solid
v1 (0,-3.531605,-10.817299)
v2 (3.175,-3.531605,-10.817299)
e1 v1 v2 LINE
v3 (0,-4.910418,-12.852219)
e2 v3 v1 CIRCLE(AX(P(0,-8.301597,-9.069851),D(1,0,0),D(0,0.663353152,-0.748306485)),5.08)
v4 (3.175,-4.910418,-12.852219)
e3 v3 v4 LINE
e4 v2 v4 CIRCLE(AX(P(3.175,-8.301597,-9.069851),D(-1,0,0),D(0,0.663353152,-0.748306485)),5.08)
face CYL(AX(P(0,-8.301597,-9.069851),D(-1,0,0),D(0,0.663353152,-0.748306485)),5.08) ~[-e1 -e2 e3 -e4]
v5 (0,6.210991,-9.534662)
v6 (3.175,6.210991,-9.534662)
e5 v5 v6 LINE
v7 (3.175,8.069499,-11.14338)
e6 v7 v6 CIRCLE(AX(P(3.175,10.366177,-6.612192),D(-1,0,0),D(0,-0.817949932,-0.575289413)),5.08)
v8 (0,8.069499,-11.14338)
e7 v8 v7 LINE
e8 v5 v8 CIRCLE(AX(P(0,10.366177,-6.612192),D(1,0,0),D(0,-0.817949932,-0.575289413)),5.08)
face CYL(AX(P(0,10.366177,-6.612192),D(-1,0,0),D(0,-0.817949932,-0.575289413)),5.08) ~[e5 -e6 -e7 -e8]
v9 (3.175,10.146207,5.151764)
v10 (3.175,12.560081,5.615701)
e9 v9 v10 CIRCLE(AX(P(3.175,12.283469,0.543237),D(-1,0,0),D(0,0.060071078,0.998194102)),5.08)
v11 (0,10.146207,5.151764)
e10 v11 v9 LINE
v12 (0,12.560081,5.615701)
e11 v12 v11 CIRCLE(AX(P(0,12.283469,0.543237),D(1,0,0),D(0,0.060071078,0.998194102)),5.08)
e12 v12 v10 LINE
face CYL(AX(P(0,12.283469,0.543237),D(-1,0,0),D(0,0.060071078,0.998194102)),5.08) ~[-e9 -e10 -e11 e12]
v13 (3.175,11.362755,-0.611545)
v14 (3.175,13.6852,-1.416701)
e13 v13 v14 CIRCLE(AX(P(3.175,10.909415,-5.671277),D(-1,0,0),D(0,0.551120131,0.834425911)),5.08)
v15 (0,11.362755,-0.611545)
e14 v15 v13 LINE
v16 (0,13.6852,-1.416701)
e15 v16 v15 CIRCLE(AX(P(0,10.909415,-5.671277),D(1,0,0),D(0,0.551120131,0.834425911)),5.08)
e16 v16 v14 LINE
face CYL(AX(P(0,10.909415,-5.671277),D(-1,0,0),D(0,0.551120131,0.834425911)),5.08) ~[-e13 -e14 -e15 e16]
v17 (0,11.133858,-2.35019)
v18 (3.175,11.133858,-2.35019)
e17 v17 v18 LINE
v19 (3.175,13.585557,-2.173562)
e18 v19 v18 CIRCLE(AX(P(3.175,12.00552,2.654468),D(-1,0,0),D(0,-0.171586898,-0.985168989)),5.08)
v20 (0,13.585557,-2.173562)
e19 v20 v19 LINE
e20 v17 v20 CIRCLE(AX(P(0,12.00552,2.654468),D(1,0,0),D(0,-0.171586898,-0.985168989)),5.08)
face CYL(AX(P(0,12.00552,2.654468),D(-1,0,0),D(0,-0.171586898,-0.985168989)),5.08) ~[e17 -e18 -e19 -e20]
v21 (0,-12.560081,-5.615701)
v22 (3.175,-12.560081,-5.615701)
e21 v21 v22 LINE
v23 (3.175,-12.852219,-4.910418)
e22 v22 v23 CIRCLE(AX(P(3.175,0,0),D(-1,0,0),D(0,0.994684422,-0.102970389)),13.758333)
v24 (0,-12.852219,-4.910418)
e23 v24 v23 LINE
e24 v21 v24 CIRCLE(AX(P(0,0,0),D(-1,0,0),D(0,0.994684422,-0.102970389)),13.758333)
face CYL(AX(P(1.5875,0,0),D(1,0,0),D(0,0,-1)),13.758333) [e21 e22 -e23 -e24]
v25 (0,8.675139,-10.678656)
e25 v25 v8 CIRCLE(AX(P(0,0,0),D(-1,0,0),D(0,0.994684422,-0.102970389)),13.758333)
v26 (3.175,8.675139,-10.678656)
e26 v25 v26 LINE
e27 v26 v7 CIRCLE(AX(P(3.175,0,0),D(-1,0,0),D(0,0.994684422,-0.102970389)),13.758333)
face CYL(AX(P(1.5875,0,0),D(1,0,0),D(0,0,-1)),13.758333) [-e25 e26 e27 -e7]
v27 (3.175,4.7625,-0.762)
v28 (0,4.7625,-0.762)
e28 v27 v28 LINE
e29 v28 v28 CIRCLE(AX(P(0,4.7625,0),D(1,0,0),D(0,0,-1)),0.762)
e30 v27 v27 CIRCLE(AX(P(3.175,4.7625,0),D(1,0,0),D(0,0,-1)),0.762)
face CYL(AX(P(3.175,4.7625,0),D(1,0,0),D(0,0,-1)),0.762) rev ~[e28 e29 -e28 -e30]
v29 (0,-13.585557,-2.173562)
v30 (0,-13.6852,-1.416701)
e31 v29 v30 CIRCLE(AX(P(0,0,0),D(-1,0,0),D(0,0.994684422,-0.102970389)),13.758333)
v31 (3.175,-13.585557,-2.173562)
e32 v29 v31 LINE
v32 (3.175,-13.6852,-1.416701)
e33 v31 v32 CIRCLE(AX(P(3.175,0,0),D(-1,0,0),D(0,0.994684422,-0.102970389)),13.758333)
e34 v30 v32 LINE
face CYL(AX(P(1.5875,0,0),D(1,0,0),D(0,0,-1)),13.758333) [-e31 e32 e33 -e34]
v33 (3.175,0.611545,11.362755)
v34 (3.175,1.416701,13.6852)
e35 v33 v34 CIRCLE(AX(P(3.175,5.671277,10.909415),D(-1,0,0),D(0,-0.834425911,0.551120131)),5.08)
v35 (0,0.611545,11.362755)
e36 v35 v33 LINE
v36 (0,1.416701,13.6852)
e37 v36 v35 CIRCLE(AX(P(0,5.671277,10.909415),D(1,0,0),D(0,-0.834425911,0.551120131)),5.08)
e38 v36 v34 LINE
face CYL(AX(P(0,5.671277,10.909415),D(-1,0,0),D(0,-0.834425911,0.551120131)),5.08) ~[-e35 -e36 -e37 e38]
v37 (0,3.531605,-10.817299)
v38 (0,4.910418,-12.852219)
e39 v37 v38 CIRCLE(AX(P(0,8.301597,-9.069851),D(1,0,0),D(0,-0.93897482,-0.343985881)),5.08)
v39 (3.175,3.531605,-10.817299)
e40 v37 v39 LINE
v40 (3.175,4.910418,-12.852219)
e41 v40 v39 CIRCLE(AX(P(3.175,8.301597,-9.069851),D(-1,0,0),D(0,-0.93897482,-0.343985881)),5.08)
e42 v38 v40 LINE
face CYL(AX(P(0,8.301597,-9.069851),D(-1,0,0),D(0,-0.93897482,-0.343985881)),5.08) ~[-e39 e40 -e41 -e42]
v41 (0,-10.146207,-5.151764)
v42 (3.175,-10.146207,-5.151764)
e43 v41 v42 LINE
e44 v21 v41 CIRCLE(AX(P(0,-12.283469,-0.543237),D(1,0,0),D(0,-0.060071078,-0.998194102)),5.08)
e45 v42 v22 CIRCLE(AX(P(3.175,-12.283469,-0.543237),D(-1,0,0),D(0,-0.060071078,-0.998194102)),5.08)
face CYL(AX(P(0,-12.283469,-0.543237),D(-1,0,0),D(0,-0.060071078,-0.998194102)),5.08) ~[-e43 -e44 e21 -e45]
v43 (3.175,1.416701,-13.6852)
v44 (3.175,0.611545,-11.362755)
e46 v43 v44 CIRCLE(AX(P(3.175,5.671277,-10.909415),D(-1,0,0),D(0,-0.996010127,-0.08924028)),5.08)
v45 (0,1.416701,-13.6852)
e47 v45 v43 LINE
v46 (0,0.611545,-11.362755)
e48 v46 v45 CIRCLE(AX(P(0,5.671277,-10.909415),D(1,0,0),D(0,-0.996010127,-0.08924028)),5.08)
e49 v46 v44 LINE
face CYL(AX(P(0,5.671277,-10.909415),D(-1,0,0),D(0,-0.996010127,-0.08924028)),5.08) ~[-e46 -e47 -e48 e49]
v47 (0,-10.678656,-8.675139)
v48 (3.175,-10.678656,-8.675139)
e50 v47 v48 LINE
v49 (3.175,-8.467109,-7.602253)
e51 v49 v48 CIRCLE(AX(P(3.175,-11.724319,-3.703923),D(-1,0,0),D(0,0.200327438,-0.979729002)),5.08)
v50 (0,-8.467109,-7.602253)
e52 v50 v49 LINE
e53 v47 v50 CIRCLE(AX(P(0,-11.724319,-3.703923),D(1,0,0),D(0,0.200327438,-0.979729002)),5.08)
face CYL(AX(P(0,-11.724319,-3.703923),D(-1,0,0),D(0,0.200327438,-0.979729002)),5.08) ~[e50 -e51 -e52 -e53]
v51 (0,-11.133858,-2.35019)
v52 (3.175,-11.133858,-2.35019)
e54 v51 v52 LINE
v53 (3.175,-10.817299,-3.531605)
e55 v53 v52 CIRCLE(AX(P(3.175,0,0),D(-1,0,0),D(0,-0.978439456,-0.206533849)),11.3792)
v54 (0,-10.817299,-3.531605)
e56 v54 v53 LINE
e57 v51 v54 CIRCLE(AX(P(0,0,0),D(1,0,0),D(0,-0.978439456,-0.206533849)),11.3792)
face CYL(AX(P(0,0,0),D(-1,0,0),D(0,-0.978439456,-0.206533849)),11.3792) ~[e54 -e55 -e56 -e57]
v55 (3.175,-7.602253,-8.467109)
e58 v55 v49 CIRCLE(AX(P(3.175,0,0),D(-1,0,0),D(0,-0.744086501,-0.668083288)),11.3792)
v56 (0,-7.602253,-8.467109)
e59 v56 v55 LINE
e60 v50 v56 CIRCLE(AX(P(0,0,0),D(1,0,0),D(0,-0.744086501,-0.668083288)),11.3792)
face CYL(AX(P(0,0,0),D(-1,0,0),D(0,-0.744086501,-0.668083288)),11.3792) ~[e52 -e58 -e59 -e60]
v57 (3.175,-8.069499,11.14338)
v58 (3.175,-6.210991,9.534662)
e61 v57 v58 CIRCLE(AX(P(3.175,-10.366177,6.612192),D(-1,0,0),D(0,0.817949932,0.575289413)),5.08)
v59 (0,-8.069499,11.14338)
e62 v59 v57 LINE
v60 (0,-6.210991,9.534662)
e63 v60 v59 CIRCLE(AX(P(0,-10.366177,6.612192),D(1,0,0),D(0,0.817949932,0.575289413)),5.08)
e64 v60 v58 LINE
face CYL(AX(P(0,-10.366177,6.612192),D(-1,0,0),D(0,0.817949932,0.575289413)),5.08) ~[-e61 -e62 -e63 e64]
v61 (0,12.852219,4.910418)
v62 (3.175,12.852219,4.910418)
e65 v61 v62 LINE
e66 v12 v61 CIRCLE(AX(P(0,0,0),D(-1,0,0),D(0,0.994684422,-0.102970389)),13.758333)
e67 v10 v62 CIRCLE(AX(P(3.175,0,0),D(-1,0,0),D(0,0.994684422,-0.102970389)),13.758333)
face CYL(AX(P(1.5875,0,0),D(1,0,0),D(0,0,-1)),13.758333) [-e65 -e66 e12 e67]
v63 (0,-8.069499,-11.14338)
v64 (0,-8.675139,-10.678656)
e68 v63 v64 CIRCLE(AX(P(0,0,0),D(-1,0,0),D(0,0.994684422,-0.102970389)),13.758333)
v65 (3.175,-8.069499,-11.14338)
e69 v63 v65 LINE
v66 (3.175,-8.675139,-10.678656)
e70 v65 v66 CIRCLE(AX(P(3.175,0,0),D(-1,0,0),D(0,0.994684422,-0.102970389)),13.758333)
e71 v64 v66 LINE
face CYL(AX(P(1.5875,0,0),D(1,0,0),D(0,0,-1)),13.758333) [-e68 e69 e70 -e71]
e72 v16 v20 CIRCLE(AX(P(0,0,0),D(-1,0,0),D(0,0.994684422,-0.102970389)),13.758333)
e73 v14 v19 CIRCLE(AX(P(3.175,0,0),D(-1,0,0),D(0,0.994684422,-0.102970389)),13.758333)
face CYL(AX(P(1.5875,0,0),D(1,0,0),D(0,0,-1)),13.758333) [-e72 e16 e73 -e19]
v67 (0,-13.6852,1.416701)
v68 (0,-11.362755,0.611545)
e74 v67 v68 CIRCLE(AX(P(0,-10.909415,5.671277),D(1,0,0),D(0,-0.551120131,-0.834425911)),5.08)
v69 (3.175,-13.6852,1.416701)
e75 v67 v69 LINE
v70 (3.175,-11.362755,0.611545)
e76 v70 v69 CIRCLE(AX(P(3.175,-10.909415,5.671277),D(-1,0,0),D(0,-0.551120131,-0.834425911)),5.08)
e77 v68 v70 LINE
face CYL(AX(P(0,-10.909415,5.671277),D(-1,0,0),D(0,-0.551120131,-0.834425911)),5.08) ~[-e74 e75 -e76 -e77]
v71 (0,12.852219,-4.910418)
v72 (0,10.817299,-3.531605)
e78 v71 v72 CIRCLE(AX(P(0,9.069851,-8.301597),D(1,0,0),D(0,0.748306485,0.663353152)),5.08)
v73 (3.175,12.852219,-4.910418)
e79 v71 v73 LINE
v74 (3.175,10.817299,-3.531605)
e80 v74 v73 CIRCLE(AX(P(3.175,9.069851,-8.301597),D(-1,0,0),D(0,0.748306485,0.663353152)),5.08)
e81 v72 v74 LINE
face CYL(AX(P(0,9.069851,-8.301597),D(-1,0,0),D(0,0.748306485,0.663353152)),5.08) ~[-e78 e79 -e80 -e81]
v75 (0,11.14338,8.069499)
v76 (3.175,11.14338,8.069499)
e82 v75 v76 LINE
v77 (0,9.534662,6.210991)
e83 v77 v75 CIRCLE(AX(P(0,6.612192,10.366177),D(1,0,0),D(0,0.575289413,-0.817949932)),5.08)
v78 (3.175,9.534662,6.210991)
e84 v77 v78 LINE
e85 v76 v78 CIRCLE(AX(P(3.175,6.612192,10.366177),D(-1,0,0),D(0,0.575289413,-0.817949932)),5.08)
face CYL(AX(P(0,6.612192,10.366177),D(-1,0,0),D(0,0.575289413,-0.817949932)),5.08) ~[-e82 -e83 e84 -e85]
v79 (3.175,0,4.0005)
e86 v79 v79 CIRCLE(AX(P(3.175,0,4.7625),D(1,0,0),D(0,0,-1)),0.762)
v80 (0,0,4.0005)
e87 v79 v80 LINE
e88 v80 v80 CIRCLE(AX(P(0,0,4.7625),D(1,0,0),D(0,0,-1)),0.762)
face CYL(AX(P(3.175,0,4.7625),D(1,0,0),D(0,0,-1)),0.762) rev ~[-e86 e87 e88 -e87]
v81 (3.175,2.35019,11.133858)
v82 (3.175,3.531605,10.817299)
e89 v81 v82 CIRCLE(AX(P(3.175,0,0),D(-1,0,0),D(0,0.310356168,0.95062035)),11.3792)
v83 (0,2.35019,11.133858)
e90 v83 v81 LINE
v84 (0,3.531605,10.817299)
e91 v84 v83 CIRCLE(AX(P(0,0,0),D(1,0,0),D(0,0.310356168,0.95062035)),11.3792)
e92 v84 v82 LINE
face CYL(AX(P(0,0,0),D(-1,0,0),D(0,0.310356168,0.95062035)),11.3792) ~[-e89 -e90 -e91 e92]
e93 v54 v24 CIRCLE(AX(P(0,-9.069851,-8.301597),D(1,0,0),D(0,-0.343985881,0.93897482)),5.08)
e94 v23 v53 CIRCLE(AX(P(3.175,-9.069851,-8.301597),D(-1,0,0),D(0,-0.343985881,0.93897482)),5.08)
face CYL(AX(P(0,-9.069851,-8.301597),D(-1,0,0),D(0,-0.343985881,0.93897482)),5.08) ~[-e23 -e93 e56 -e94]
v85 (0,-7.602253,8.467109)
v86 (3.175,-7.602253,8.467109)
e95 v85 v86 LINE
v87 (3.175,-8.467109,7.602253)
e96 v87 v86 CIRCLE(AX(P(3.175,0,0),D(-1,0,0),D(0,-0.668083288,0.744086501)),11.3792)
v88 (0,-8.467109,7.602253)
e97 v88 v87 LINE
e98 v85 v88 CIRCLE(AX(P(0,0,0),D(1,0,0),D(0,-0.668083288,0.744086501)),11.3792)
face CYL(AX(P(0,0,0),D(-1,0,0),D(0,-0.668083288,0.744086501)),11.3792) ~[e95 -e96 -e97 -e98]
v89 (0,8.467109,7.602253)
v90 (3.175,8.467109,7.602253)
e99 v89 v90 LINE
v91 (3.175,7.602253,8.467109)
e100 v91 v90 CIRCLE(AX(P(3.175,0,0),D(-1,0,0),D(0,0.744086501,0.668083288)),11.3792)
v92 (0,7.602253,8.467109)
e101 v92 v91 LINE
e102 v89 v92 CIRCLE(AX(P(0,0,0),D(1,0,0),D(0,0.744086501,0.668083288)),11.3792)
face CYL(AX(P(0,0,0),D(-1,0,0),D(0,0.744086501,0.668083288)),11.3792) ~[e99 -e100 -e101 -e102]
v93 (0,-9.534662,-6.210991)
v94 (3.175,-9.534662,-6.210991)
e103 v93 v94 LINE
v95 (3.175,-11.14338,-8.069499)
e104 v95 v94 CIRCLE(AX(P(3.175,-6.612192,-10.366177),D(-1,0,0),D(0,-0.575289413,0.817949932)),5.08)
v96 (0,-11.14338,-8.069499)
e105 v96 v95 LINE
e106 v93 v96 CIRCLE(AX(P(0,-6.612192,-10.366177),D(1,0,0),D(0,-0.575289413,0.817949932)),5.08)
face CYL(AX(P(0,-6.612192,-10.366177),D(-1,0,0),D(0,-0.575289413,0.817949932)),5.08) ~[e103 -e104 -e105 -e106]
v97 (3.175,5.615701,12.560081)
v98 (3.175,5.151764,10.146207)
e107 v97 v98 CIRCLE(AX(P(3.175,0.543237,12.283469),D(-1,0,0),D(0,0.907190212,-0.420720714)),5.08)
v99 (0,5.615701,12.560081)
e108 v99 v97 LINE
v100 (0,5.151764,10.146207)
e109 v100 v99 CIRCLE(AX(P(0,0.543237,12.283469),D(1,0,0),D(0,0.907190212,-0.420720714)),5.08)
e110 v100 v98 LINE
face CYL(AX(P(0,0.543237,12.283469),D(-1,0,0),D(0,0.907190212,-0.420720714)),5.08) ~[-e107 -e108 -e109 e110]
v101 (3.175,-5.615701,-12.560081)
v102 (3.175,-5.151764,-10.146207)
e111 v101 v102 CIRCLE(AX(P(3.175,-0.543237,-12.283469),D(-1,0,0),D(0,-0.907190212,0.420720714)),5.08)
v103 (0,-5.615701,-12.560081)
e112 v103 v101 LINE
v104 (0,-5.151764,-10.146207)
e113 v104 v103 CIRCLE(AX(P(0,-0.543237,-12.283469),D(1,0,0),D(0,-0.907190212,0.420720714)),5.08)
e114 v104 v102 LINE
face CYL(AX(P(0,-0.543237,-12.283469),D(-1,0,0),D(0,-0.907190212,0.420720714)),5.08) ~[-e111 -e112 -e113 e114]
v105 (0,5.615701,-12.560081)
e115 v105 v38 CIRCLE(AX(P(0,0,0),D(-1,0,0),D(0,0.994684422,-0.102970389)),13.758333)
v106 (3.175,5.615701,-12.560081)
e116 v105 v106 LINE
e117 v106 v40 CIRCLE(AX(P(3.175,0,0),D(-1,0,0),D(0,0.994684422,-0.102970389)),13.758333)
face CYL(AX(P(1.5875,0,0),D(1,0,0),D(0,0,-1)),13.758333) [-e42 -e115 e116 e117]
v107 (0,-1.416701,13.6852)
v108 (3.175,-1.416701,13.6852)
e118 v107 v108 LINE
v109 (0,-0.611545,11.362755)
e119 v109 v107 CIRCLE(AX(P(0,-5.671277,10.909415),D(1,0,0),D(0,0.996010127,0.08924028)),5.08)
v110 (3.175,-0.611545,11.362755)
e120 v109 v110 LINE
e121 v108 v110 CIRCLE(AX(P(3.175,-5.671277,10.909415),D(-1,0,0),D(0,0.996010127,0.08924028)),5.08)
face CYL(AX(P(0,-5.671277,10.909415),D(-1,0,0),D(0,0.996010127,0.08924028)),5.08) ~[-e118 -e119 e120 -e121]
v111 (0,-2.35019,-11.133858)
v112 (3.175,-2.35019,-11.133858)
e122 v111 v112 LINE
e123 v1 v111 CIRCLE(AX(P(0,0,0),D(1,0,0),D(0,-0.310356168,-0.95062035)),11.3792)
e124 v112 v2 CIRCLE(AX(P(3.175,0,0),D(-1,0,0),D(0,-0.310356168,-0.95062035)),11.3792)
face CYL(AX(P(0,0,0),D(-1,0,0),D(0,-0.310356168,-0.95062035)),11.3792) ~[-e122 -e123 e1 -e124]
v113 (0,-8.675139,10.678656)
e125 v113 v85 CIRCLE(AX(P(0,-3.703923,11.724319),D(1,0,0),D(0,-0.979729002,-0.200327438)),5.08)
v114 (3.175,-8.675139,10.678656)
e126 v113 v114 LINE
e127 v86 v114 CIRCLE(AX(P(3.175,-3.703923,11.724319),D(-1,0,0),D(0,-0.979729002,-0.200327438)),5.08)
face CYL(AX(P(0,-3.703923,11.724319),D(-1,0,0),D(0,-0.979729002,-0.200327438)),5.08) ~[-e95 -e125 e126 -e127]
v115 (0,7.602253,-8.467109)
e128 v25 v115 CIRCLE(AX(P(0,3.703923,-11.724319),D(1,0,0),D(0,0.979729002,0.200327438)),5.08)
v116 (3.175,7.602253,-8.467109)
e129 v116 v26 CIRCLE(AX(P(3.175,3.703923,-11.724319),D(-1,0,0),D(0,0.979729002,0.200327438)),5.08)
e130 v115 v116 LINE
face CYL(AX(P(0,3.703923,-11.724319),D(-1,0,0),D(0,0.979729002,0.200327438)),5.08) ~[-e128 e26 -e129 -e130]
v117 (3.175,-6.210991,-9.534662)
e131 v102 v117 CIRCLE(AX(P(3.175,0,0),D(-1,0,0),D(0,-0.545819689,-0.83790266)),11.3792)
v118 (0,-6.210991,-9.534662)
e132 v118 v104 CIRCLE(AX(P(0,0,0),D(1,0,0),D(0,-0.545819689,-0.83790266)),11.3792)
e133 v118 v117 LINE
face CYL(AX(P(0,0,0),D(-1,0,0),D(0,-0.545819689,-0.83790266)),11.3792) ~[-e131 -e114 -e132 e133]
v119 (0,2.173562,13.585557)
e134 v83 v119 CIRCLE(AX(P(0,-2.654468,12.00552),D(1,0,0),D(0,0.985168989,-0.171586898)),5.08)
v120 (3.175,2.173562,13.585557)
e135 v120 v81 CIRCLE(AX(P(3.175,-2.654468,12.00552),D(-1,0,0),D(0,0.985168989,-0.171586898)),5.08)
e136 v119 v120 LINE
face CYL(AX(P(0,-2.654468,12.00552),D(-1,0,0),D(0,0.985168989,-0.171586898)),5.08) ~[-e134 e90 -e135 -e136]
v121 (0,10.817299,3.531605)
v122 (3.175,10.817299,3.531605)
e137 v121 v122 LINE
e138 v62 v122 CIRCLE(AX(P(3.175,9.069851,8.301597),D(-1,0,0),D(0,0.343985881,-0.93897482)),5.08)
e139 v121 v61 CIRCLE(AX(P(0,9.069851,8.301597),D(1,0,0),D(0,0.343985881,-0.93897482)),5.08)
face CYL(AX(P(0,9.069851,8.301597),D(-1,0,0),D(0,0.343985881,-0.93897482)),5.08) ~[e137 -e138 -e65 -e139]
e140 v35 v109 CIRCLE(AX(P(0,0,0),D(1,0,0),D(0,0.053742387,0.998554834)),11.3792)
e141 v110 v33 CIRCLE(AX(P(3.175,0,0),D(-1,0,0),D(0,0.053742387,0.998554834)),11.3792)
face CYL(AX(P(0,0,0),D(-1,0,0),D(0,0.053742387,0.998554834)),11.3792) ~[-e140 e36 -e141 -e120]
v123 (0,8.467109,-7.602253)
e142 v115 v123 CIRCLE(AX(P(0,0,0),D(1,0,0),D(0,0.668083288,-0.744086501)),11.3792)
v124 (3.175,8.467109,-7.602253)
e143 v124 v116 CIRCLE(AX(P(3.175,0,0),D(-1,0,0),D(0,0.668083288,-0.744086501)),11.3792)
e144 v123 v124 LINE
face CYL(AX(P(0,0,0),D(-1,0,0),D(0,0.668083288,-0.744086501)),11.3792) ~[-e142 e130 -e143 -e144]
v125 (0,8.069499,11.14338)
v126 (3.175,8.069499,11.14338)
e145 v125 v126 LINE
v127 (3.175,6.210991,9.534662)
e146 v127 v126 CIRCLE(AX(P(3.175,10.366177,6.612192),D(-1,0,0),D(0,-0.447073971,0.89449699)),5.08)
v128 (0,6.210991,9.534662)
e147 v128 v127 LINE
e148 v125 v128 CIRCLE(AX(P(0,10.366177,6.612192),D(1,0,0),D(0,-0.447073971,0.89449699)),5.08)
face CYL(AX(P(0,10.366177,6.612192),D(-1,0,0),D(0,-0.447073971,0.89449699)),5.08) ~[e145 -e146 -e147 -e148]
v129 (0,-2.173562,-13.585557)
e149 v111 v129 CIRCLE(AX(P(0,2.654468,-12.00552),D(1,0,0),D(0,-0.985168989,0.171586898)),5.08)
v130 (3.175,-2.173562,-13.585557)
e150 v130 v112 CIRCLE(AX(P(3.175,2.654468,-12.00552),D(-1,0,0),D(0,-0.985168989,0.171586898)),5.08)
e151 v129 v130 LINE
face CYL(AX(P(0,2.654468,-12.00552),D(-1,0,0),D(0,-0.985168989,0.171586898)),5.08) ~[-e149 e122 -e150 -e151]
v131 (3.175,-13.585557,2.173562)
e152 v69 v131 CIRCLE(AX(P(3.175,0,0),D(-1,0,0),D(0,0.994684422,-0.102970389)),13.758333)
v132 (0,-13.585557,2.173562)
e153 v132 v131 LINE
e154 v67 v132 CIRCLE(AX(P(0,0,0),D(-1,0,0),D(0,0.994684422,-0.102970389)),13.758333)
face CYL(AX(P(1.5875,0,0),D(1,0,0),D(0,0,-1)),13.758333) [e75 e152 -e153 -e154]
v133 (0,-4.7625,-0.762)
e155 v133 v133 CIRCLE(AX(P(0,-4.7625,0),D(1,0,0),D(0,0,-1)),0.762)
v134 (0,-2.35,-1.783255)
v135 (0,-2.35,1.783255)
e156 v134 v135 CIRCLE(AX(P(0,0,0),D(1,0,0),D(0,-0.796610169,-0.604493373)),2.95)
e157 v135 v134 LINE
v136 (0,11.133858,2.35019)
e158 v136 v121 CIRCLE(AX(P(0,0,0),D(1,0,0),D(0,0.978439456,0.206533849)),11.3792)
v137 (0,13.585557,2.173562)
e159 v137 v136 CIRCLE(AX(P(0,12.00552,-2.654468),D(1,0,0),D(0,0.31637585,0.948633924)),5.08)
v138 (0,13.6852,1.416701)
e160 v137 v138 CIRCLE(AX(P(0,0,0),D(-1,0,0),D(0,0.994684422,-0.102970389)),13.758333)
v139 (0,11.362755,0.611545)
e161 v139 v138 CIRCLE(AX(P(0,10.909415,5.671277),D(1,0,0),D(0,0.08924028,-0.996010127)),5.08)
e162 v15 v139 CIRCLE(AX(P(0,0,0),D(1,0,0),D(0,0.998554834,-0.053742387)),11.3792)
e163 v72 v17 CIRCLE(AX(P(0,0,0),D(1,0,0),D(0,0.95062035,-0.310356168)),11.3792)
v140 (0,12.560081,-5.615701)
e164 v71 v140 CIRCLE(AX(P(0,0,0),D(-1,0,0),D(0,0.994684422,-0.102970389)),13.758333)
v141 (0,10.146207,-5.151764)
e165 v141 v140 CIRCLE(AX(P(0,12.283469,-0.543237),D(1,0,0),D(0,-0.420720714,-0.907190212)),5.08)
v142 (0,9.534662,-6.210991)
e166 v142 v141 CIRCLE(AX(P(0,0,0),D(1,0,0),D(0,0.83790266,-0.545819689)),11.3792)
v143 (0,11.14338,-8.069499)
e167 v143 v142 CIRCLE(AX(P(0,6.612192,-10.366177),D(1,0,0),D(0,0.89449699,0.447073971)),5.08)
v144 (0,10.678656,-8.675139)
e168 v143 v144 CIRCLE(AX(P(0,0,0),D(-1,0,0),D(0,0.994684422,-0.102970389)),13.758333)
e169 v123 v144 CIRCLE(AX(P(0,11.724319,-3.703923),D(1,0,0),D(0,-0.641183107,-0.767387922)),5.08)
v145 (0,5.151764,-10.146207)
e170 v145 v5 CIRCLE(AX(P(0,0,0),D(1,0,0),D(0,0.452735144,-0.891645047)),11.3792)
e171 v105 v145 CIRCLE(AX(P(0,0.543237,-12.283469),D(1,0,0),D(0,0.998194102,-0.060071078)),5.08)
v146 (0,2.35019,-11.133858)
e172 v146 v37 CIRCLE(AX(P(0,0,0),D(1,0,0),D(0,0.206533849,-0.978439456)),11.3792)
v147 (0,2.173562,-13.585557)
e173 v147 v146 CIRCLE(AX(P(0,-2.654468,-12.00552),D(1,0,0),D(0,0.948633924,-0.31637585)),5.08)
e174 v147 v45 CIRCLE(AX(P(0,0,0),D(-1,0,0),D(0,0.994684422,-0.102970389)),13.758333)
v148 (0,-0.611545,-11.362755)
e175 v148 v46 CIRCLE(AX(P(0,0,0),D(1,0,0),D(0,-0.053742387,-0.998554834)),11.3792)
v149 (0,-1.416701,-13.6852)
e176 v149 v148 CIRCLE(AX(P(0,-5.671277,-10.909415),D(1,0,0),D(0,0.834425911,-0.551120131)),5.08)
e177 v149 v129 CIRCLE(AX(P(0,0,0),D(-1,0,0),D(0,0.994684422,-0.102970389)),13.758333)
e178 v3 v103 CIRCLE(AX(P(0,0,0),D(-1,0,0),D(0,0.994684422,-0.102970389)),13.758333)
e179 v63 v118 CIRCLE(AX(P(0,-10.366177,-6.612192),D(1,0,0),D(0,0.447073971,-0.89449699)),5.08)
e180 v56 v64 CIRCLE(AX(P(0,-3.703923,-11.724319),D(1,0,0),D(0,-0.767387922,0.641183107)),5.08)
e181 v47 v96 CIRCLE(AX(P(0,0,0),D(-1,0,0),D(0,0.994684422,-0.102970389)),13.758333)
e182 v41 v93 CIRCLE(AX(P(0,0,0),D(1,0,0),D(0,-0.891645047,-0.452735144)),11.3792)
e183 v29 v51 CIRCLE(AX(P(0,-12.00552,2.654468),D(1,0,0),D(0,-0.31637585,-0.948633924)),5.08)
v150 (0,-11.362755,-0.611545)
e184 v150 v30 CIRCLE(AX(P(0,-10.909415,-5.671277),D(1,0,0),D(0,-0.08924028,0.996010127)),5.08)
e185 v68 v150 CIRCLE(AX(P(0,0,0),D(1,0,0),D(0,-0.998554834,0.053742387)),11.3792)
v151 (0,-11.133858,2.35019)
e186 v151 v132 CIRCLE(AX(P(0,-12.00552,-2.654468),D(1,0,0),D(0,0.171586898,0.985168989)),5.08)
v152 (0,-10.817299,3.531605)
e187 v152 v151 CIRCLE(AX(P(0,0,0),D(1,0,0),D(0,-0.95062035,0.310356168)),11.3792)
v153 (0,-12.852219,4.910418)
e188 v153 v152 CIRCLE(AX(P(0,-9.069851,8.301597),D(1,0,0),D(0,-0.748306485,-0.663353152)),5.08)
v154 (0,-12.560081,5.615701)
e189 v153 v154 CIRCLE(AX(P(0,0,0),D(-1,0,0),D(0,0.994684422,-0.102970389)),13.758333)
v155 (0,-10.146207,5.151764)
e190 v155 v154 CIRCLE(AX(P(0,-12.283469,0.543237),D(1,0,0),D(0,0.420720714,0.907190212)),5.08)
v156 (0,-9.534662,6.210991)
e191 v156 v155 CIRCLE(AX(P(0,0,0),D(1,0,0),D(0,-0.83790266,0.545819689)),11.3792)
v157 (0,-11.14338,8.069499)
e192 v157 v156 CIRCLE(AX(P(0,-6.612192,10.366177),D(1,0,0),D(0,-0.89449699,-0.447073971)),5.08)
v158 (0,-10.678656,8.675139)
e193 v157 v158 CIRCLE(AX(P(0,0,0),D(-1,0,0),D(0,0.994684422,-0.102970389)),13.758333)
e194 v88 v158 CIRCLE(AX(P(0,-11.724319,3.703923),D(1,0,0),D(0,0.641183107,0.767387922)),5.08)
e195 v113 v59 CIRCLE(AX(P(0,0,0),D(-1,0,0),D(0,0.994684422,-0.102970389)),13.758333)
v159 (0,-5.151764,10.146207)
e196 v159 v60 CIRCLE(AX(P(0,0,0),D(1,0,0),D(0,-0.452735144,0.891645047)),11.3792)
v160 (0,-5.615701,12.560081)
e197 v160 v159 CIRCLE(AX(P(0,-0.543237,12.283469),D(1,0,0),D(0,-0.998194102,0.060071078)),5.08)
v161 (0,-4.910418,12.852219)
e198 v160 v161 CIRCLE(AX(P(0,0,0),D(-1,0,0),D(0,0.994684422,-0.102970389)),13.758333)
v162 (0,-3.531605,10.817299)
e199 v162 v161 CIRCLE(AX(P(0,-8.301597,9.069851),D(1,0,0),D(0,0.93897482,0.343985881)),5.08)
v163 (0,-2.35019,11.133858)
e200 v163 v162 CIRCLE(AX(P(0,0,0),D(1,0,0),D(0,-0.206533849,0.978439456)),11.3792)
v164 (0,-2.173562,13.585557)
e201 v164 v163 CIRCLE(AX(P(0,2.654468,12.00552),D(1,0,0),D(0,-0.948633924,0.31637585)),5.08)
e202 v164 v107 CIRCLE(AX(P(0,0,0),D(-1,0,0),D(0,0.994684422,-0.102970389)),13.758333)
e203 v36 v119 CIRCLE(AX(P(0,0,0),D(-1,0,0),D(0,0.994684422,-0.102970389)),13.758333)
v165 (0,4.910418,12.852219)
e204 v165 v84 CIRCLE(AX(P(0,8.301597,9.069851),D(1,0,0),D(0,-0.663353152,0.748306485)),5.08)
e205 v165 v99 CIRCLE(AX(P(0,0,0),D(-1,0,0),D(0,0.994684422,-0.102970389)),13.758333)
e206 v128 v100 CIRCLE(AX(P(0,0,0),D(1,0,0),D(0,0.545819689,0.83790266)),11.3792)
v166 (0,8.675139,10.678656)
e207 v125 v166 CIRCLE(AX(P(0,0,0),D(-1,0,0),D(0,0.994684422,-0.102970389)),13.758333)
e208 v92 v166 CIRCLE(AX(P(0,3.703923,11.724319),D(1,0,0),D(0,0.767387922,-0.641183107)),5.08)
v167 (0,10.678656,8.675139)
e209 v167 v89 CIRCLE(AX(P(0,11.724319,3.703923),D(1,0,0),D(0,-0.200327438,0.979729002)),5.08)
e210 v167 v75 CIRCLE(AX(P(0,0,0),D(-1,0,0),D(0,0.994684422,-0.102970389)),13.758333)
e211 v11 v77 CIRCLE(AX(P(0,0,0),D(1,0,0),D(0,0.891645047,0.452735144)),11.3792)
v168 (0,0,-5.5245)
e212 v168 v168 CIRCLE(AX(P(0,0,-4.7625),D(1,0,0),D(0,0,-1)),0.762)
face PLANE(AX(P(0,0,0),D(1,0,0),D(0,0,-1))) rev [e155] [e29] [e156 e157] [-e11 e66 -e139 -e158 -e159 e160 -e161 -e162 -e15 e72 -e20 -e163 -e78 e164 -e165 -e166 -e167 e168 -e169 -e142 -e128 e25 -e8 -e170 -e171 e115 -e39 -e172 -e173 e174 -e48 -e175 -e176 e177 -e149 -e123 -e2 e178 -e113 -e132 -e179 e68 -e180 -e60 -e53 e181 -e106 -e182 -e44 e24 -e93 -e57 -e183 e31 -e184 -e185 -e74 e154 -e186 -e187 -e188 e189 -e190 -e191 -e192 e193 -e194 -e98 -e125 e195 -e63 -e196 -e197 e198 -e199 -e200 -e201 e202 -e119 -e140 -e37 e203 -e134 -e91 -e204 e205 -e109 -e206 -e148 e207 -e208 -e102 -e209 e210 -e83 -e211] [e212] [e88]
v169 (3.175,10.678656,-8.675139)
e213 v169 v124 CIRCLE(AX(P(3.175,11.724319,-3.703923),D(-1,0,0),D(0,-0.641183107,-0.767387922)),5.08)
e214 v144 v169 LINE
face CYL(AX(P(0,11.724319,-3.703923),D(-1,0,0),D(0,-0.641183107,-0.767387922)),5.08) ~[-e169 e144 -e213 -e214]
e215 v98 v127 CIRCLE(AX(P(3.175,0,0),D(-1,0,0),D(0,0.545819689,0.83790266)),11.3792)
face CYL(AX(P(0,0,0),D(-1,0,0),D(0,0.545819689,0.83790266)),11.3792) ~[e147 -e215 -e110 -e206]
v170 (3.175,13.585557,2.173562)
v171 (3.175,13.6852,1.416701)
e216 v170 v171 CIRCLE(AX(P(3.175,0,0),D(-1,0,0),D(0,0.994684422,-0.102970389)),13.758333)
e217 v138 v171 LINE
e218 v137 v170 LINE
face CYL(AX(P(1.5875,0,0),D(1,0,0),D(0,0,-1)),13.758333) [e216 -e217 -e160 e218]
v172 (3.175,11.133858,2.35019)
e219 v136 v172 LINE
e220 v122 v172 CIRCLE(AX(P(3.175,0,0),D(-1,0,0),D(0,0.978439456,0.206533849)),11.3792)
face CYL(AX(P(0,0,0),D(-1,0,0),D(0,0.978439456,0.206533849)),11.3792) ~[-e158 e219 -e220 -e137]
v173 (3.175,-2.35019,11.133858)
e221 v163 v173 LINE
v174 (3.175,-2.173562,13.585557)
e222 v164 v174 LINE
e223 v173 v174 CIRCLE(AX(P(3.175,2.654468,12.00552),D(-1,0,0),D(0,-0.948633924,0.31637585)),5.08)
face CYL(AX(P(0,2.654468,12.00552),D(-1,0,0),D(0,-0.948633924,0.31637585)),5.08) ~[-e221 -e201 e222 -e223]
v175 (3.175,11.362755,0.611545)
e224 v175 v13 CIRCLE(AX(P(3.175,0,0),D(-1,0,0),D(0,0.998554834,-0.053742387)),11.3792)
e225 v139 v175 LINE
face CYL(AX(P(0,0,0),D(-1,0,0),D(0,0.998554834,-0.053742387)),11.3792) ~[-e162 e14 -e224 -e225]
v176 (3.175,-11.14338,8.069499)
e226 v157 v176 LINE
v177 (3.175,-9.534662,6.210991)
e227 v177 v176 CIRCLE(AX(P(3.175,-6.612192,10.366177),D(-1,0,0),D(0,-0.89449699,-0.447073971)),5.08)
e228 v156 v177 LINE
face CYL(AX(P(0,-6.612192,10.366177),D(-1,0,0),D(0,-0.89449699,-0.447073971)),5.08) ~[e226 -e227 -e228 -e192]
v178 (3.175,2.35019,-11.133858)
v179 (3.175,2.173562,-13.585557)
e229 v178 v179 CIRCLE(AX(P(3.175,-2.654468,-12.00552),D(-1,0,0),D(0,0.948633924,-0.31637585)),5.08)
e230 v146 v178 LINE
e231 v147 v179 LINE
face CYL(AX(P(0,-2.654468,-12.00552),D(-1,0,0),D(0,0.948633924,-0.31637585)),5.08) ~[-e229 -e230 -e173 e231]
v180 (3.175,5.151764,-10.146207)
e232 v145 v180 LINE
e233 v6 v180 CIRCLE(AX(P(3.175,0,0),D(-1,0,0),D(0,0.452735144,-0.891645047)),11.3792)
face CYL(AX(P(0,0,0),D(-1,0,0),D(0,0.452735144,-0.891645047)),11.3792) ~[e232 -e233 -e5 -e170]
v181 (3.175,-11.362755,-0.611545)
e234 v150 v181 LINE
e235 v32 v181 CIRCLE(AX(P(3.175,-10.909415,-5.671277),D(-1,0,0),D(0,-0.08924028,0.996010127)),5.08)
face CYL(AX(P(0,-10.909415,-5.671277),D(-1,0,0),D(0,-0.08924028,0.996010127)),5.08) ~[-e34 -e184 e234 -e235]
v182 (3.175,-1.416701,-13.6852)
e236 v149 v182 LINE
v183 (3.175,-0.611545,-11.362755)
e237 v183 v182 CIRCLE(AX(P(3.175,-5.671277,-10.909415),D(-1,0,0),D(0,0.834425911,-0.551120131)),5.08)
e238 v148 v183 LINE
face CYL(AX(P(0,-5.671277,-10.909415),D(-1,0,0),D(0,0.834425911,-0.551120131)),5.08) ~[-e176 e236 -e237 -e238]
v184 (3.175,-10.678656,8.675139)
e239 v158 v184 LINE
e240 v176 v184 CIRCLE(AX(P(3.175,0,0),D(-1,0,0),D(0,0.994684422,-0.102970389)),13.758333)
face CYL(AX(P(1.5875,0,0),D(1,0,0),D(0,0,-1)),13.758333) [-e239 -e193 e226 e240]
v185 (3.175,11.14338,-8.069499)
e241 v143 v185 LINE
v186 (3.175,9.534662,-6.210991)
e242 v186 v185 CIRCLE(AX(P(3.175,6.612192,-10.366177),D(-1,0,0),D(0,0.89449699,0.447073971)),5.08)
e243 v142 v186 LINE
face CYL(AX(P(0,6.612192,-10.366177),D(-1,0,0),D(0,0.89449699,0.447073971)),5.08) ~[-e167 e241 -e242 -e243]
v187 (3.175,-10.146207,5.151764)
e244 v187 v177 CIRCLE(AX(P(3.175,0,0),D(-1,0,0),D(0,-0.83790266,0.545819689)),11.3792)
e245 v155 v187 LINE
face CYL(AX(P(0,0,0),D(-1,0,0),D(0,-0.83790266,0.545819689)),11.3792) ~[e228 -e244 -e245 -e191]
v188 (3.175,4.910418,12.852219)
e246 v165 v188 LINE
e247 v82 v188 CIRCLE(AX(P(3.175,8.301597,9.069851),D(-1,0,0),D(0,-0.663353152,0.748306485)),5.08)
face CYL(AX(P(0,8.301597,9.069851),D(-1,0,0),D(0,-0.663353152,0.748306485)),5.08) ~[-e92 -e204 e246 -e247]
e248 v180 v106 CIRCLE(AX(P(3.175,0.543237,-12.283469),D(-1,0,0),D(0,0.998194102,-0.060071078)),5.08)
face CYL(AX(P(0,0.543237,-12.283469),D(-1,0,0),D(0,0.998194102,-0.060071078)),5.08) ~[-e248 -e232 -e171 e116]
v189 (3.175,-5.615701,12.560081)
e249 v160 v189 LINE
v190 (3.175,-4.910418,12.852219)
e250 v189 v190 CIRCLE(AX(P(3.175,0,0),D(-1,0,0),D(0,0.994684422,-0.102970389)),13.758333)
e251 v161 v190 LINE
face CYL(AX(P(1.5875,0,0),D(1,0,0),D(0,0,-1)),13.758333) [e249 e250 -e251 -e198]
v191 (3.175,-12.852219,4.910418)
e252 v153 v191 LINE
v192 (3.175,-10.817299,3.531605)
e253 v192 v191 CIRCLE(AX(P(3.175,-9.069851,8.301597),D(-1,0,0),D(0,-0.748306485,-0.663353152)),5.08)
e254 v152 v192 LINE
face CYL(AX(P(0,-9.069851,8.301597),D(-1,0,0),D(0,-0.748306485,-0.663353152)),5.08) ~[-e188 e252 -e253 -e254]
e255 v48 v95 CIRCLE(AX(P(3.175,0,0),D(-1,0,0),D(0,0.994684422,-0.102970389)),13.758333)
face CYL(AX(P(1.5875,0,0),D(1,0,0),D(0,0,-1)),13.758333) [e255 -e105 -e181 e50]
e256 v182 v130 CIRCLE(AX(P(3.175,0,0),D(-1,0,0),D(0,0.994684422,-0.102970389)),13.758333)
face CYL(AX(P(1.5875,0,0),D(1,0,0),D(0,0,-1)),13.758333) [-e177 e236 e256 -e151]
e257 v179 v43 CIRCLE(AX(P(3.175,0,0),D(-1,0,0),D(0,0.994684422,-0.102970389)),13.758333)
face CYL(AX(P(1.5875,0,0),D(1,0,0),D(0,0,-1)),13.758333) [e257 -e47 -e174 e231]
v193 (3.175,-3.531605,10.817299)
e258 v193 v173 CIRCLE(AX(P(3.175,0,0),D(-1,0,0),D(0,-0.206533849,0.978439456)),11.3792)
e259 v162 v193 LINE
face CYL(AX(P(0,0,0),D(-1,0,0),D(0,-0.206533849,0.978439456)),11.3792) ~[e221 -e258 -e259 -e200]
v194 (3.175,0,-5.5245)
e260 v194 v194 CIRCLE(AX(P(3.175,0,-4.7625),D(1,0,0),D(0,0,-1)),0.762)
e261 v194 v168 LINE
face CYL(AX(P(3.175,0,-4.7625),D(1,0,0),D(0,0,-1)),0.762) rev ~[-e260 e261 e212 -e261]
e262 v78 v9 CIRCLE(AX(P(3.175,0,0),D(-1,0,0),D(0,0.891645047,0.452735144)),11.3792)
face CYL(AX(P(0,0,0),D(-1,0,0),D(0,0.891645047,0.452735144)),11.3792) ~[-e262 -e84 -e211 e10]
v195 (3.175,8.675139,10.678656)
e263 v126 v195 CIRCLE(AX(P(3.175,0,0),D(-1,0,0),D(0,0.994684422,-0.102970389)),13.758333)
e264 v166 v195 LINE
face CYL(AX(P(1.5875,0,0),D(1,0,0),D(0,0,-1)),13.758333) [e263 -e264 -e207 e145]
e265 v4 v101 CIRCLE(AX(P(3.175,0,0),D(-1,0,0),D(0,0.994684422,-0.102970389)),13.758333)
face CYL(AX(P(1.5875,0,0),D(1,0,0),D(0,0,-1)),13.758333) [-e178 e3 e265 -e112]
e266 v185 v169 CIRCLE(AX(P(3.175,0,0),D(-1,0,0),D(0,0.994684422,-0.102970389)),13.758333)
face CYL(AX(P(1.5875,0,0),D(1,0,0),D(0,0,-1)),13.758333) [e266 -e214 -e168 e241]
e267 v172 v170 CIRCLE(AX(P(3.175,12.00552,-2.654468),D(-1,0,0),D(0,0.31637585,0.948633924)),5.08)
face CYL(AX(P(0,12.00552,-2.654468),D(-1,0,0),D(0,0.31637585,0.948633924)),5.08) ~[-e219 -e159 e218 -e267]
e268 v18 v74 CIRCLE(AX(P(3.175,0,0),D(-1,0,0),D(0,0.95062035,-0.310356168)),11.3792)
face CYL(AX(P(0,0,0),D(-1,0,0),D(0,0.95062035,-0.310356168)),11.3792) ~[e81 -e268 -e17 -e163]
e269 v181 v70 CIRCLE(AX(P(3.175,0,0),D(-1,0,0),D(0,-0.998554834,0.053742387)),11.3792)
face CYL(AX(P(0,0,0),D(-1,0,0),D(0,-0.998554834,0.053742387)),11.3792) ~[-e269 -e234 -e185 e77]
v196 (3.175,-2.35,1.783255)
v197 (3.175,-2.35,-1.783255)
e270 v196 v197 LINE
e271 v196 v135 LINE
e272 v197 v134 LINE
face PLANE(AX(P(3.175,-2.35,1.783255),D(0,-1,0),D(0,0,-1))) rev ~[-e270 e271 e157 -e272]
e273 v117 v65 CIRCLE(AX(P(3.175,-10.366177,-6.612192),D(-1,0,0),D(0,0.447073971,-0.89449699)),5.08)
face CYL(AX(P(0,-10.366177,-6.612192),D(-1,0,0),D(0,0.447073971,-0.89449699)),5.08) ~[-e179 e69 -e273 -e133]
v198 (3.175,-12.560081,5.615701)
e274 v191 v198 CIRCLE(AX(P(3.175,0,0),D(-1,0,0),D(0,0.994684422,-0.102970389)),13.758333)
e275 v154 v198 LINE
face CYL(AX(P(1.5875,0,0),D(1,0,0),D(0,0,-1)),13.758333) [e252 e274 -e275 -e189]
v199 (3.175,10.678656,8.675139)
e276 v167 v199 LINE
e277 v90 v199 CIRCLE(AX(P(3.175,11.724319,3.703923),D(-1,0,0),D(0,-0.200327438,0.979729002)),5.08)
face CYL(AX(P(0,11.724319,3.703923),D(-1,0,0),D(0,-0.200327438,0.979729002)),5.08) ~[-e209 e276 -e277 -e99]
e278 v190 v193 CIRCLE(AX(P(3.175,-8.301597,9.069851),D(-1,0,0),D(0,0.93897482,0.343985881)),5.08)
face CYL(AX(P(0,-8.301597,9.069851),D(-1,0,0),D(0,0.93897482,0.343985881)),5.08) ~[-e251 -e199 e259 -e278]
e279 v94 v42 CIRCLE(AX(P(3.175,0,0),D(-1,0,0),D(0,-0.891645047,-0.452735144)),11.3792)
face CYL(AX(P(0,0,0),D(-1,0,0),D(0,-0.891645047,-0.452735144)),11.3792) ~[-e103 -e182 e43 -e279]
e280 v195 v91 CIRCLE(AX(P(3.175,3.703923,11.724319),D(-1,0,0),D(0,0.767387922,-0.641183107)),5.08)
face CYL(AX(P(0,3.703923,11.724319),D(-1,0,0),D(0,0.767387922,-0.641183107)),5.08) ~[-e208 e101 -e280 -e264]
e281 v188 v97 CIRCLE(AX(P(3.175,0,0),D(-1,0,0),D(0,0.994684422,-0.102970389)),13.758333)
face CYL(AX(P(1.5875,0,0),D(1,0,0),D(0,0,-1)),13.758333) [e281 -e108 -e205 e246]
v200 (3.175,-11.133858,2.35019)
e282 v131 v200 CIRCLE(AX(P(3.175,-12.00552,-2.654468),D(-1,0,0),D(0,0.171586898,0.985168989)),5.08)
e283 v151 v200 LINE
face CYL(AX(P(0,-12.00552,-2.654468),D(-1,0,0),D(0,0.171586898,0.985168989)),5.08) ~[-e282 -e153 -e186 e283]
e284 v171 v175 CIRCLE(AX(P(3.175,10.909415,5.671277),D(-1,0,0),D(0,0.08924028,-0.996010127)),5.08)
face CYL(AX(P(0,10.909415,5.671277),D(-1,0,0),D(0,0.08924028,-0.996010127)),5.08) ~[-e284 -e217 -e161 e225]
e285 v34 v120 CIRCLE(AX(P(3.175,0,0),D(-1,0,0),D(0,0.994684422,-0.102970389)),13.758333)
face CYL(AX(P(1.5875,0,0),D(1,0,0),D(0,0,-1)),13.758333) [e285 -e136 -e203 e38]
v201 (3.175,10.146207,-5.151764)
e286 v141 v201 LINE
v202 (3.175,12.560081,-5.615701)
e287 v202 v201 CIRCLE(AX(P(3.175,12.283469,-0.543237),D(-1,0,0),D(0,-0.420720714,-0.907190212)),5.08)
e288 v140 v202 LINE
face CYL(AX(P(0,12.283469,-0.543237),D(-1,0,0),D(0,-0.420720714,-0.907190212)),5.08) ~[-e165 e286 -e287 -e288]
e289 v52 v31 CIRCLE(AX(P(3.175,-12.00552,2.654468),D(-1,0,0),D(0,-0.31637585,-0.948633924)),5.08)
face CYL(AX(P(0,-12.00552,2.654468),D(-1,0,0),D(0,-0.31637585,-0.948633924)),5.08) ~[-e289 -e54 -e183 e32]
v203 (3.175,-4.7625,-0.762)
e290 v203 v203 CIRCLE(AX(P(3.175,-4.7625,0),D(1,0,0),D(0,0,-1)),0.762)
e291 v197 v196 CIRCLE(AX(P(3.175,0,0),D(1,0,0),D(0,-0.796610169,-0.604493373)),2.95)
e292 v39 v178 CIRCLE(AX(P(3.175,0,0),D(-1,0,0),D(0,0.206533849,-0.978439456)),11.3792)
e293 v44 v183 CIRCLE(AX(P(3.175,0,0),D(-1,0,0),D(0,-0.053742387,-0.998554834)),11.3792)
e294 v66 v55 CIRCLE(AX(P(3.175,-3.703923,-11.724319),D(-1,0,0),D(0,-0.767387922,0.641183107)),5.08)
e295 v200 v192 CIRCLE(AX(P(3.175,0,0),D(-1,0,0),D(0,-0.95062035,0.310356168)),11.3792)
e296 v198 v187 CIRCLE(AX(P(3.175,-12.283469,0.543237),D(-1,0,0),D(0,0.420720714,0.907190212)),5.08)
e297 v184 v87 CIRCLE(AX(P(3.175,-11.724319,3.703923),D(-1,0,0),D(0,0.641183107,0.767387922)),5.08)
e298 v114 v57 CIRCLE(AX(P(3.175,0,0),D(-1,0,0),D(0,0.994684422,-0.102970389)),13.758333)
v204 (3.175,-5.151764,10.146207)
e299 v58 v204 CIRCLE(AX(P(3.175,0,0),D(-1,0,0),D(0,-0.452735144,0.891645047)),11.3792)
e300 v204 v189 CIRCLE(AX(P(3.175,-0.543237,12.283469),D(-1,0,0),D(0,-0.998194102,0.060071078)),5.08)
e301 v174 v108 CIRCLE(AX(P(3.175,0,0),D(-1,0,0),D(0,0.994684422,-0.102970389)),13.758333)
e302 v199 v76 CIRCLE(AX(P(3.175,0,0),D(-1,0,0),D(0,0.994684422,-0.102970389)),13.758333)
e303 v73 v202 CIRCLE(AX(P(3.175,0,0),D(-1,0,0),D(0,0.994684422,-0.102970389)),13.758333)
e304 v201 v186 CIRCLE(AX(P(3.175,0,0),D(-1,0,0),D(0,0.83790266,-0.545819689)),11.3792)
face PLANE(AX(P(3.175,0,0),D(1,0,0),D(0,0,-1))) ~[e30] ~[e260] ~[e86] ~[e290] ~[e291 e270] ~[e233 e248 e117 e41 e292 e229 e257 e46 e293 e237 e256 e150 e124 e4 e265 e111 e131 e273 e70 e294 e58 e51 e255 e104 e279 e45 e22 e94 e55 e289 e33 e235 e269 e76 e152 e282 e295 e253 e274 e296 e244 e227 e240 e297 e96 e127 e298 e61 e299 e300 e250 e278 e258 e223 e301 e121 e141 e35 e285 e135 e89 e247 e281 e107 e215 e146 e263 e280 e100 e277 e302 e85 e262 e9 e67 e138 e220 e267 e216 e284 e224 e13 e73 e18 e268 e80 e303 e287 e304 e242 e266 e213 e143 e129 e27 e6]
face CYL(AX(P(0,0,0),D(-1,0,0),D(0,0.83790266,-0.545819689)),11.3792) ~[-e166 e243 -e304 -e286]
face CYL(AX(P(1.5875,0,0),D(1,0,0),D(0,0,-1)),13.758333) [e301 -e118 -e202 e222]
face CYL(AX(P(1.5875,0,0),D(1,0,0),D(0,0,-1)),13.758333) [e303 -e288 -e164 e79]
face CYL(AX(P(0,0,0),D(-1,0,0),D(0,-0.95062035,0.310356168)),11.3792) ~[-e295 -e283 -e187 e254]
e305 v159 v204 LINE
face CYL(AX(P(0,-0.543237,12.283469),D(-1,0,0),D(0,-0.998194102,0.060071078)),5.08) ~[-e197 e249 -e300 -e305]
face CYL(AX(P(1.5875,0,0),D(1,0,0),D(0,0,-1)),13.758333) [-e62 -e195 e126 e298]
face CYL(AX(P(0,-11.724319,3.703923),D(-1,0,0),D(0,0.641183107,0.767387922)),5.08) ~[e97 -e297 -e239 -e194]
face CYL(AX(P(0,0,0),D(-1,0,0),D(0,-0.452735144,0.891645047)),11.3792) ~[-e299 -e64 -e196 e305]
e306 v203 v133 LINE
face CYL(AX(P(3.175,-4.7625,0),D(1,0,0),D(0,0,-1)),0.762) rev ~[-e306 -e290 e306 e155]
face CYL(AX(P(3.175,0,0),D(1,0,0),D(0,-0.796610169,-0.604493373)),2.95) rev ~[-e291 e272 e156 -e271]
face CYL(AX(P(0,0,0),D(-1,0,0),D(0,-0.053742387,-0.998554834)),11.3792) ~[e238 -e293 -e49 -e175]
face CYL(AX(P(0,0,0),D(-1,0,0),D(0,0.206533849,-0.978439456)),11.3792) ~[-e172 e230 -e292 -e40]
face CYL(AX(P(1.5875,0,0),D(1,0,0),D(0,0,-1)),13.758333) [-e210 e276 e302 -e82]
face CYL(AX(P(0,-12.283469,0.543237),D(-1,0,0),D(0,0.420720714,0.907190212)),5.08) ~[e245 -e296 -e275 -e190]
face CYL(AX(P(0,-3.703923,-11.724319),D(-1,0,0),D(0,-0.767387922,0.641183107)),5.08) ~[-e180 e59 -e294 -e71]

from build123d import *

# Parameters (mm, degrees)
BASPROSKE_W        = 3.175
BASPROSKE_H        = 13.758333333
TOOTHCUT_DEPTH     = 4.175
TEETHCUTS_COUNT    = 24
TEETHCUTS_ANGLE    = 345
CUT_EXTRUDE1_REACH = 5.175
CUT_EXTRUDE2_REACH = 5.175
SKETCH3_R          = 0.762


with BuildPart() as part:
    # BasProSke → Base-Revolve (revolve)
    with BuildSketch(Plane(origin=(0, 0, 0), x_dir=(1, 0, 0), z_dir=(0, 1, 0))):
        with Locations((1.5875, 6.879166667)):
            Rectangle(BASPROSKE_W, BASPROSKE_H)
    revolve(axis=Axis((-10, 0, 0), (1, 0, 0)))

    # TooCutSke → ToothCut (cut, through all)
    with BuildSketch(Plane(origin=(0, 0, 0), x_dir=(0, 0, -1), z_dir=(1, 0, 0))):
        with BuildLine():
            ThreePointArc((0.61154538, 11.362755163), (0, 11.3792), (-0.61154538, 11.362755163))
            ThreePointArc((-0.61154538, 11.362755163), (-0.876237748, 12.586912754), (-1.432393192, 13.709104797))
            ThreePointArc((-1.432393192, 13.709104797), (0, 13.783733333), (1.432393192, 13.709104797))
            ThreePointArc((1.432393192, 13.709104797), (0.876237748, 12.586912754), (0.61154538, 11.362755163))
        make_face()
    toothcut = extrude(amount=TOOTHCUT_DEPTH, mode=Mode.SUBTRACT)

    # TeethCuts: ToothCut ×24 about axis
    teethcuts_axis = Axis((-10, 0, 0), (1, 0, 0))
    for i in range(1, TEETHCUTS_COUNT):
        add(toothcut.rotate(teethcuts_axis, i * TEETHCUTS_ANGLE / (TEETHCUTS_COUNT - 1)), mode=Mode.SUBTRACT)

    # Sketch1 → Cut-Extrude1 (cut, up to next)
    with BuildSketch(Plane(origin=(3.175, 0, 0), x_dir=(0, 0, -1), z_dir=(1, 0, 0)), mode=Mode.PRIVATE) as cut_extrude1_sk1:
        with BuildLine():
            Line((-1.78325545, -2.35), (1.78325545, -2.35))
            ThreePointArc((1.78325545, -2.35), (0, 2.95), (-1.78325545, -2.35))
        make_face()
    cut_extrude1_tool1 = extrude(cut_extrude1_sk1.sketch, amount=-CUT_EXTRUDE1_REACH, mode=Mode.PRIVATE) & part.part
    add(cut_extrude1_tool1.solids().sort_by_distance((3.175, 0.146071, 0))[0], mode=Mode.SUBTRACT)

    # Sketch3 → Cut-Extrude2 (cut, up to next)
    with BuildSketch(Plane(origin=(3.175, 0, 0), x_dir=(0, 0, -1), z_dir=(1, 0, 0)), mode=Mode.PRIVATE) as cut_extrude2_sk1:
        with Locations((0, 4.7625)):
            Circle(SKETCH3_R)
    cut_extrude2_tool1 = extrude(cut_extrude2_sk1.sketch, amount=-CUT_EXTRUDE2_REACH, mode=Mode.PRIVATE) & part.part
    add(cut_extrude2_tool1.solids().sort_by_distance((3.175, 4.7625, 0))[0], mode=Mode.SUBTRACT)
    # Sketch3 → Cut-Extrude2 (cut, up to next)
    with BuildSketch(Plane(origin=(3.175, 0, 0), x_dir=(0, 0, -1), z_dir=(1, 0, 0)), mode=Mode.PRIVATE) as cut_extrude2_sk2:
        with Locations((-4.7625, 0)):
            Circle(SKETCH3_R)
    cut_extrude2_tool2 = extrude(cut_extrude2_sk2.sketch, amount=-CUT_EXTRUDE2_REACH, mode=Mode.PRIVATE) & part.part
    add(cut_extrude2_tool2.solids().sort_by_distance((3.175, 0, 4.7625))[0], mode=Mode.SUBTRACT)
    # Sketch3 → Cut-Extrude2 (cut, up to next)
    with BuildSketch(Plane(origin=(3.175, 0, 0), x_dir=(0, 0, -1), z_dir=(1, 0, 0)), mode=Mode.PRIVATE) as cut_extrude2_sk3:
        with Locations((4.7625, 0)):
            Circle(SKETCH3_R)
    cut_extrude2_tool3 = extrude(cut_extrude2_sk3.sketch, amount=-CUT_EXTRUDE2_REACH, mode=Mode.PRIVATE) & part.part
    add(cut_extrude2_tool3.solids().sort_by_distance((3.175, 0, -4.7625))[0], mode=Mode.SUBTRACT)
    # Sketch3 → Cut-Extrude2 (cut, up to next)
    with BuildSketch(Plane(origin=(3.175, 0, 0), x_dir=(0, 0, -1), z_dir=(1, 0, 0)), mode=Mode.PRIVATE) as cut_extrude2_sk4:
        with Locations((0, -4.7625)):
            Circle(SKETCH3_R)
    cut_extrude2_tool4 = extrude(cut_extrude2_sk4.sketch, amount=-CUT_EXTRUDE2_REACH, mode=Mode.PRIVATE) & part.part
    add(cut_extrude2_tool4.solids().sort_by_distance((3.175, -4.7625, 0))[0], mode=Mode.SUBTRACT)


solid = part.part
